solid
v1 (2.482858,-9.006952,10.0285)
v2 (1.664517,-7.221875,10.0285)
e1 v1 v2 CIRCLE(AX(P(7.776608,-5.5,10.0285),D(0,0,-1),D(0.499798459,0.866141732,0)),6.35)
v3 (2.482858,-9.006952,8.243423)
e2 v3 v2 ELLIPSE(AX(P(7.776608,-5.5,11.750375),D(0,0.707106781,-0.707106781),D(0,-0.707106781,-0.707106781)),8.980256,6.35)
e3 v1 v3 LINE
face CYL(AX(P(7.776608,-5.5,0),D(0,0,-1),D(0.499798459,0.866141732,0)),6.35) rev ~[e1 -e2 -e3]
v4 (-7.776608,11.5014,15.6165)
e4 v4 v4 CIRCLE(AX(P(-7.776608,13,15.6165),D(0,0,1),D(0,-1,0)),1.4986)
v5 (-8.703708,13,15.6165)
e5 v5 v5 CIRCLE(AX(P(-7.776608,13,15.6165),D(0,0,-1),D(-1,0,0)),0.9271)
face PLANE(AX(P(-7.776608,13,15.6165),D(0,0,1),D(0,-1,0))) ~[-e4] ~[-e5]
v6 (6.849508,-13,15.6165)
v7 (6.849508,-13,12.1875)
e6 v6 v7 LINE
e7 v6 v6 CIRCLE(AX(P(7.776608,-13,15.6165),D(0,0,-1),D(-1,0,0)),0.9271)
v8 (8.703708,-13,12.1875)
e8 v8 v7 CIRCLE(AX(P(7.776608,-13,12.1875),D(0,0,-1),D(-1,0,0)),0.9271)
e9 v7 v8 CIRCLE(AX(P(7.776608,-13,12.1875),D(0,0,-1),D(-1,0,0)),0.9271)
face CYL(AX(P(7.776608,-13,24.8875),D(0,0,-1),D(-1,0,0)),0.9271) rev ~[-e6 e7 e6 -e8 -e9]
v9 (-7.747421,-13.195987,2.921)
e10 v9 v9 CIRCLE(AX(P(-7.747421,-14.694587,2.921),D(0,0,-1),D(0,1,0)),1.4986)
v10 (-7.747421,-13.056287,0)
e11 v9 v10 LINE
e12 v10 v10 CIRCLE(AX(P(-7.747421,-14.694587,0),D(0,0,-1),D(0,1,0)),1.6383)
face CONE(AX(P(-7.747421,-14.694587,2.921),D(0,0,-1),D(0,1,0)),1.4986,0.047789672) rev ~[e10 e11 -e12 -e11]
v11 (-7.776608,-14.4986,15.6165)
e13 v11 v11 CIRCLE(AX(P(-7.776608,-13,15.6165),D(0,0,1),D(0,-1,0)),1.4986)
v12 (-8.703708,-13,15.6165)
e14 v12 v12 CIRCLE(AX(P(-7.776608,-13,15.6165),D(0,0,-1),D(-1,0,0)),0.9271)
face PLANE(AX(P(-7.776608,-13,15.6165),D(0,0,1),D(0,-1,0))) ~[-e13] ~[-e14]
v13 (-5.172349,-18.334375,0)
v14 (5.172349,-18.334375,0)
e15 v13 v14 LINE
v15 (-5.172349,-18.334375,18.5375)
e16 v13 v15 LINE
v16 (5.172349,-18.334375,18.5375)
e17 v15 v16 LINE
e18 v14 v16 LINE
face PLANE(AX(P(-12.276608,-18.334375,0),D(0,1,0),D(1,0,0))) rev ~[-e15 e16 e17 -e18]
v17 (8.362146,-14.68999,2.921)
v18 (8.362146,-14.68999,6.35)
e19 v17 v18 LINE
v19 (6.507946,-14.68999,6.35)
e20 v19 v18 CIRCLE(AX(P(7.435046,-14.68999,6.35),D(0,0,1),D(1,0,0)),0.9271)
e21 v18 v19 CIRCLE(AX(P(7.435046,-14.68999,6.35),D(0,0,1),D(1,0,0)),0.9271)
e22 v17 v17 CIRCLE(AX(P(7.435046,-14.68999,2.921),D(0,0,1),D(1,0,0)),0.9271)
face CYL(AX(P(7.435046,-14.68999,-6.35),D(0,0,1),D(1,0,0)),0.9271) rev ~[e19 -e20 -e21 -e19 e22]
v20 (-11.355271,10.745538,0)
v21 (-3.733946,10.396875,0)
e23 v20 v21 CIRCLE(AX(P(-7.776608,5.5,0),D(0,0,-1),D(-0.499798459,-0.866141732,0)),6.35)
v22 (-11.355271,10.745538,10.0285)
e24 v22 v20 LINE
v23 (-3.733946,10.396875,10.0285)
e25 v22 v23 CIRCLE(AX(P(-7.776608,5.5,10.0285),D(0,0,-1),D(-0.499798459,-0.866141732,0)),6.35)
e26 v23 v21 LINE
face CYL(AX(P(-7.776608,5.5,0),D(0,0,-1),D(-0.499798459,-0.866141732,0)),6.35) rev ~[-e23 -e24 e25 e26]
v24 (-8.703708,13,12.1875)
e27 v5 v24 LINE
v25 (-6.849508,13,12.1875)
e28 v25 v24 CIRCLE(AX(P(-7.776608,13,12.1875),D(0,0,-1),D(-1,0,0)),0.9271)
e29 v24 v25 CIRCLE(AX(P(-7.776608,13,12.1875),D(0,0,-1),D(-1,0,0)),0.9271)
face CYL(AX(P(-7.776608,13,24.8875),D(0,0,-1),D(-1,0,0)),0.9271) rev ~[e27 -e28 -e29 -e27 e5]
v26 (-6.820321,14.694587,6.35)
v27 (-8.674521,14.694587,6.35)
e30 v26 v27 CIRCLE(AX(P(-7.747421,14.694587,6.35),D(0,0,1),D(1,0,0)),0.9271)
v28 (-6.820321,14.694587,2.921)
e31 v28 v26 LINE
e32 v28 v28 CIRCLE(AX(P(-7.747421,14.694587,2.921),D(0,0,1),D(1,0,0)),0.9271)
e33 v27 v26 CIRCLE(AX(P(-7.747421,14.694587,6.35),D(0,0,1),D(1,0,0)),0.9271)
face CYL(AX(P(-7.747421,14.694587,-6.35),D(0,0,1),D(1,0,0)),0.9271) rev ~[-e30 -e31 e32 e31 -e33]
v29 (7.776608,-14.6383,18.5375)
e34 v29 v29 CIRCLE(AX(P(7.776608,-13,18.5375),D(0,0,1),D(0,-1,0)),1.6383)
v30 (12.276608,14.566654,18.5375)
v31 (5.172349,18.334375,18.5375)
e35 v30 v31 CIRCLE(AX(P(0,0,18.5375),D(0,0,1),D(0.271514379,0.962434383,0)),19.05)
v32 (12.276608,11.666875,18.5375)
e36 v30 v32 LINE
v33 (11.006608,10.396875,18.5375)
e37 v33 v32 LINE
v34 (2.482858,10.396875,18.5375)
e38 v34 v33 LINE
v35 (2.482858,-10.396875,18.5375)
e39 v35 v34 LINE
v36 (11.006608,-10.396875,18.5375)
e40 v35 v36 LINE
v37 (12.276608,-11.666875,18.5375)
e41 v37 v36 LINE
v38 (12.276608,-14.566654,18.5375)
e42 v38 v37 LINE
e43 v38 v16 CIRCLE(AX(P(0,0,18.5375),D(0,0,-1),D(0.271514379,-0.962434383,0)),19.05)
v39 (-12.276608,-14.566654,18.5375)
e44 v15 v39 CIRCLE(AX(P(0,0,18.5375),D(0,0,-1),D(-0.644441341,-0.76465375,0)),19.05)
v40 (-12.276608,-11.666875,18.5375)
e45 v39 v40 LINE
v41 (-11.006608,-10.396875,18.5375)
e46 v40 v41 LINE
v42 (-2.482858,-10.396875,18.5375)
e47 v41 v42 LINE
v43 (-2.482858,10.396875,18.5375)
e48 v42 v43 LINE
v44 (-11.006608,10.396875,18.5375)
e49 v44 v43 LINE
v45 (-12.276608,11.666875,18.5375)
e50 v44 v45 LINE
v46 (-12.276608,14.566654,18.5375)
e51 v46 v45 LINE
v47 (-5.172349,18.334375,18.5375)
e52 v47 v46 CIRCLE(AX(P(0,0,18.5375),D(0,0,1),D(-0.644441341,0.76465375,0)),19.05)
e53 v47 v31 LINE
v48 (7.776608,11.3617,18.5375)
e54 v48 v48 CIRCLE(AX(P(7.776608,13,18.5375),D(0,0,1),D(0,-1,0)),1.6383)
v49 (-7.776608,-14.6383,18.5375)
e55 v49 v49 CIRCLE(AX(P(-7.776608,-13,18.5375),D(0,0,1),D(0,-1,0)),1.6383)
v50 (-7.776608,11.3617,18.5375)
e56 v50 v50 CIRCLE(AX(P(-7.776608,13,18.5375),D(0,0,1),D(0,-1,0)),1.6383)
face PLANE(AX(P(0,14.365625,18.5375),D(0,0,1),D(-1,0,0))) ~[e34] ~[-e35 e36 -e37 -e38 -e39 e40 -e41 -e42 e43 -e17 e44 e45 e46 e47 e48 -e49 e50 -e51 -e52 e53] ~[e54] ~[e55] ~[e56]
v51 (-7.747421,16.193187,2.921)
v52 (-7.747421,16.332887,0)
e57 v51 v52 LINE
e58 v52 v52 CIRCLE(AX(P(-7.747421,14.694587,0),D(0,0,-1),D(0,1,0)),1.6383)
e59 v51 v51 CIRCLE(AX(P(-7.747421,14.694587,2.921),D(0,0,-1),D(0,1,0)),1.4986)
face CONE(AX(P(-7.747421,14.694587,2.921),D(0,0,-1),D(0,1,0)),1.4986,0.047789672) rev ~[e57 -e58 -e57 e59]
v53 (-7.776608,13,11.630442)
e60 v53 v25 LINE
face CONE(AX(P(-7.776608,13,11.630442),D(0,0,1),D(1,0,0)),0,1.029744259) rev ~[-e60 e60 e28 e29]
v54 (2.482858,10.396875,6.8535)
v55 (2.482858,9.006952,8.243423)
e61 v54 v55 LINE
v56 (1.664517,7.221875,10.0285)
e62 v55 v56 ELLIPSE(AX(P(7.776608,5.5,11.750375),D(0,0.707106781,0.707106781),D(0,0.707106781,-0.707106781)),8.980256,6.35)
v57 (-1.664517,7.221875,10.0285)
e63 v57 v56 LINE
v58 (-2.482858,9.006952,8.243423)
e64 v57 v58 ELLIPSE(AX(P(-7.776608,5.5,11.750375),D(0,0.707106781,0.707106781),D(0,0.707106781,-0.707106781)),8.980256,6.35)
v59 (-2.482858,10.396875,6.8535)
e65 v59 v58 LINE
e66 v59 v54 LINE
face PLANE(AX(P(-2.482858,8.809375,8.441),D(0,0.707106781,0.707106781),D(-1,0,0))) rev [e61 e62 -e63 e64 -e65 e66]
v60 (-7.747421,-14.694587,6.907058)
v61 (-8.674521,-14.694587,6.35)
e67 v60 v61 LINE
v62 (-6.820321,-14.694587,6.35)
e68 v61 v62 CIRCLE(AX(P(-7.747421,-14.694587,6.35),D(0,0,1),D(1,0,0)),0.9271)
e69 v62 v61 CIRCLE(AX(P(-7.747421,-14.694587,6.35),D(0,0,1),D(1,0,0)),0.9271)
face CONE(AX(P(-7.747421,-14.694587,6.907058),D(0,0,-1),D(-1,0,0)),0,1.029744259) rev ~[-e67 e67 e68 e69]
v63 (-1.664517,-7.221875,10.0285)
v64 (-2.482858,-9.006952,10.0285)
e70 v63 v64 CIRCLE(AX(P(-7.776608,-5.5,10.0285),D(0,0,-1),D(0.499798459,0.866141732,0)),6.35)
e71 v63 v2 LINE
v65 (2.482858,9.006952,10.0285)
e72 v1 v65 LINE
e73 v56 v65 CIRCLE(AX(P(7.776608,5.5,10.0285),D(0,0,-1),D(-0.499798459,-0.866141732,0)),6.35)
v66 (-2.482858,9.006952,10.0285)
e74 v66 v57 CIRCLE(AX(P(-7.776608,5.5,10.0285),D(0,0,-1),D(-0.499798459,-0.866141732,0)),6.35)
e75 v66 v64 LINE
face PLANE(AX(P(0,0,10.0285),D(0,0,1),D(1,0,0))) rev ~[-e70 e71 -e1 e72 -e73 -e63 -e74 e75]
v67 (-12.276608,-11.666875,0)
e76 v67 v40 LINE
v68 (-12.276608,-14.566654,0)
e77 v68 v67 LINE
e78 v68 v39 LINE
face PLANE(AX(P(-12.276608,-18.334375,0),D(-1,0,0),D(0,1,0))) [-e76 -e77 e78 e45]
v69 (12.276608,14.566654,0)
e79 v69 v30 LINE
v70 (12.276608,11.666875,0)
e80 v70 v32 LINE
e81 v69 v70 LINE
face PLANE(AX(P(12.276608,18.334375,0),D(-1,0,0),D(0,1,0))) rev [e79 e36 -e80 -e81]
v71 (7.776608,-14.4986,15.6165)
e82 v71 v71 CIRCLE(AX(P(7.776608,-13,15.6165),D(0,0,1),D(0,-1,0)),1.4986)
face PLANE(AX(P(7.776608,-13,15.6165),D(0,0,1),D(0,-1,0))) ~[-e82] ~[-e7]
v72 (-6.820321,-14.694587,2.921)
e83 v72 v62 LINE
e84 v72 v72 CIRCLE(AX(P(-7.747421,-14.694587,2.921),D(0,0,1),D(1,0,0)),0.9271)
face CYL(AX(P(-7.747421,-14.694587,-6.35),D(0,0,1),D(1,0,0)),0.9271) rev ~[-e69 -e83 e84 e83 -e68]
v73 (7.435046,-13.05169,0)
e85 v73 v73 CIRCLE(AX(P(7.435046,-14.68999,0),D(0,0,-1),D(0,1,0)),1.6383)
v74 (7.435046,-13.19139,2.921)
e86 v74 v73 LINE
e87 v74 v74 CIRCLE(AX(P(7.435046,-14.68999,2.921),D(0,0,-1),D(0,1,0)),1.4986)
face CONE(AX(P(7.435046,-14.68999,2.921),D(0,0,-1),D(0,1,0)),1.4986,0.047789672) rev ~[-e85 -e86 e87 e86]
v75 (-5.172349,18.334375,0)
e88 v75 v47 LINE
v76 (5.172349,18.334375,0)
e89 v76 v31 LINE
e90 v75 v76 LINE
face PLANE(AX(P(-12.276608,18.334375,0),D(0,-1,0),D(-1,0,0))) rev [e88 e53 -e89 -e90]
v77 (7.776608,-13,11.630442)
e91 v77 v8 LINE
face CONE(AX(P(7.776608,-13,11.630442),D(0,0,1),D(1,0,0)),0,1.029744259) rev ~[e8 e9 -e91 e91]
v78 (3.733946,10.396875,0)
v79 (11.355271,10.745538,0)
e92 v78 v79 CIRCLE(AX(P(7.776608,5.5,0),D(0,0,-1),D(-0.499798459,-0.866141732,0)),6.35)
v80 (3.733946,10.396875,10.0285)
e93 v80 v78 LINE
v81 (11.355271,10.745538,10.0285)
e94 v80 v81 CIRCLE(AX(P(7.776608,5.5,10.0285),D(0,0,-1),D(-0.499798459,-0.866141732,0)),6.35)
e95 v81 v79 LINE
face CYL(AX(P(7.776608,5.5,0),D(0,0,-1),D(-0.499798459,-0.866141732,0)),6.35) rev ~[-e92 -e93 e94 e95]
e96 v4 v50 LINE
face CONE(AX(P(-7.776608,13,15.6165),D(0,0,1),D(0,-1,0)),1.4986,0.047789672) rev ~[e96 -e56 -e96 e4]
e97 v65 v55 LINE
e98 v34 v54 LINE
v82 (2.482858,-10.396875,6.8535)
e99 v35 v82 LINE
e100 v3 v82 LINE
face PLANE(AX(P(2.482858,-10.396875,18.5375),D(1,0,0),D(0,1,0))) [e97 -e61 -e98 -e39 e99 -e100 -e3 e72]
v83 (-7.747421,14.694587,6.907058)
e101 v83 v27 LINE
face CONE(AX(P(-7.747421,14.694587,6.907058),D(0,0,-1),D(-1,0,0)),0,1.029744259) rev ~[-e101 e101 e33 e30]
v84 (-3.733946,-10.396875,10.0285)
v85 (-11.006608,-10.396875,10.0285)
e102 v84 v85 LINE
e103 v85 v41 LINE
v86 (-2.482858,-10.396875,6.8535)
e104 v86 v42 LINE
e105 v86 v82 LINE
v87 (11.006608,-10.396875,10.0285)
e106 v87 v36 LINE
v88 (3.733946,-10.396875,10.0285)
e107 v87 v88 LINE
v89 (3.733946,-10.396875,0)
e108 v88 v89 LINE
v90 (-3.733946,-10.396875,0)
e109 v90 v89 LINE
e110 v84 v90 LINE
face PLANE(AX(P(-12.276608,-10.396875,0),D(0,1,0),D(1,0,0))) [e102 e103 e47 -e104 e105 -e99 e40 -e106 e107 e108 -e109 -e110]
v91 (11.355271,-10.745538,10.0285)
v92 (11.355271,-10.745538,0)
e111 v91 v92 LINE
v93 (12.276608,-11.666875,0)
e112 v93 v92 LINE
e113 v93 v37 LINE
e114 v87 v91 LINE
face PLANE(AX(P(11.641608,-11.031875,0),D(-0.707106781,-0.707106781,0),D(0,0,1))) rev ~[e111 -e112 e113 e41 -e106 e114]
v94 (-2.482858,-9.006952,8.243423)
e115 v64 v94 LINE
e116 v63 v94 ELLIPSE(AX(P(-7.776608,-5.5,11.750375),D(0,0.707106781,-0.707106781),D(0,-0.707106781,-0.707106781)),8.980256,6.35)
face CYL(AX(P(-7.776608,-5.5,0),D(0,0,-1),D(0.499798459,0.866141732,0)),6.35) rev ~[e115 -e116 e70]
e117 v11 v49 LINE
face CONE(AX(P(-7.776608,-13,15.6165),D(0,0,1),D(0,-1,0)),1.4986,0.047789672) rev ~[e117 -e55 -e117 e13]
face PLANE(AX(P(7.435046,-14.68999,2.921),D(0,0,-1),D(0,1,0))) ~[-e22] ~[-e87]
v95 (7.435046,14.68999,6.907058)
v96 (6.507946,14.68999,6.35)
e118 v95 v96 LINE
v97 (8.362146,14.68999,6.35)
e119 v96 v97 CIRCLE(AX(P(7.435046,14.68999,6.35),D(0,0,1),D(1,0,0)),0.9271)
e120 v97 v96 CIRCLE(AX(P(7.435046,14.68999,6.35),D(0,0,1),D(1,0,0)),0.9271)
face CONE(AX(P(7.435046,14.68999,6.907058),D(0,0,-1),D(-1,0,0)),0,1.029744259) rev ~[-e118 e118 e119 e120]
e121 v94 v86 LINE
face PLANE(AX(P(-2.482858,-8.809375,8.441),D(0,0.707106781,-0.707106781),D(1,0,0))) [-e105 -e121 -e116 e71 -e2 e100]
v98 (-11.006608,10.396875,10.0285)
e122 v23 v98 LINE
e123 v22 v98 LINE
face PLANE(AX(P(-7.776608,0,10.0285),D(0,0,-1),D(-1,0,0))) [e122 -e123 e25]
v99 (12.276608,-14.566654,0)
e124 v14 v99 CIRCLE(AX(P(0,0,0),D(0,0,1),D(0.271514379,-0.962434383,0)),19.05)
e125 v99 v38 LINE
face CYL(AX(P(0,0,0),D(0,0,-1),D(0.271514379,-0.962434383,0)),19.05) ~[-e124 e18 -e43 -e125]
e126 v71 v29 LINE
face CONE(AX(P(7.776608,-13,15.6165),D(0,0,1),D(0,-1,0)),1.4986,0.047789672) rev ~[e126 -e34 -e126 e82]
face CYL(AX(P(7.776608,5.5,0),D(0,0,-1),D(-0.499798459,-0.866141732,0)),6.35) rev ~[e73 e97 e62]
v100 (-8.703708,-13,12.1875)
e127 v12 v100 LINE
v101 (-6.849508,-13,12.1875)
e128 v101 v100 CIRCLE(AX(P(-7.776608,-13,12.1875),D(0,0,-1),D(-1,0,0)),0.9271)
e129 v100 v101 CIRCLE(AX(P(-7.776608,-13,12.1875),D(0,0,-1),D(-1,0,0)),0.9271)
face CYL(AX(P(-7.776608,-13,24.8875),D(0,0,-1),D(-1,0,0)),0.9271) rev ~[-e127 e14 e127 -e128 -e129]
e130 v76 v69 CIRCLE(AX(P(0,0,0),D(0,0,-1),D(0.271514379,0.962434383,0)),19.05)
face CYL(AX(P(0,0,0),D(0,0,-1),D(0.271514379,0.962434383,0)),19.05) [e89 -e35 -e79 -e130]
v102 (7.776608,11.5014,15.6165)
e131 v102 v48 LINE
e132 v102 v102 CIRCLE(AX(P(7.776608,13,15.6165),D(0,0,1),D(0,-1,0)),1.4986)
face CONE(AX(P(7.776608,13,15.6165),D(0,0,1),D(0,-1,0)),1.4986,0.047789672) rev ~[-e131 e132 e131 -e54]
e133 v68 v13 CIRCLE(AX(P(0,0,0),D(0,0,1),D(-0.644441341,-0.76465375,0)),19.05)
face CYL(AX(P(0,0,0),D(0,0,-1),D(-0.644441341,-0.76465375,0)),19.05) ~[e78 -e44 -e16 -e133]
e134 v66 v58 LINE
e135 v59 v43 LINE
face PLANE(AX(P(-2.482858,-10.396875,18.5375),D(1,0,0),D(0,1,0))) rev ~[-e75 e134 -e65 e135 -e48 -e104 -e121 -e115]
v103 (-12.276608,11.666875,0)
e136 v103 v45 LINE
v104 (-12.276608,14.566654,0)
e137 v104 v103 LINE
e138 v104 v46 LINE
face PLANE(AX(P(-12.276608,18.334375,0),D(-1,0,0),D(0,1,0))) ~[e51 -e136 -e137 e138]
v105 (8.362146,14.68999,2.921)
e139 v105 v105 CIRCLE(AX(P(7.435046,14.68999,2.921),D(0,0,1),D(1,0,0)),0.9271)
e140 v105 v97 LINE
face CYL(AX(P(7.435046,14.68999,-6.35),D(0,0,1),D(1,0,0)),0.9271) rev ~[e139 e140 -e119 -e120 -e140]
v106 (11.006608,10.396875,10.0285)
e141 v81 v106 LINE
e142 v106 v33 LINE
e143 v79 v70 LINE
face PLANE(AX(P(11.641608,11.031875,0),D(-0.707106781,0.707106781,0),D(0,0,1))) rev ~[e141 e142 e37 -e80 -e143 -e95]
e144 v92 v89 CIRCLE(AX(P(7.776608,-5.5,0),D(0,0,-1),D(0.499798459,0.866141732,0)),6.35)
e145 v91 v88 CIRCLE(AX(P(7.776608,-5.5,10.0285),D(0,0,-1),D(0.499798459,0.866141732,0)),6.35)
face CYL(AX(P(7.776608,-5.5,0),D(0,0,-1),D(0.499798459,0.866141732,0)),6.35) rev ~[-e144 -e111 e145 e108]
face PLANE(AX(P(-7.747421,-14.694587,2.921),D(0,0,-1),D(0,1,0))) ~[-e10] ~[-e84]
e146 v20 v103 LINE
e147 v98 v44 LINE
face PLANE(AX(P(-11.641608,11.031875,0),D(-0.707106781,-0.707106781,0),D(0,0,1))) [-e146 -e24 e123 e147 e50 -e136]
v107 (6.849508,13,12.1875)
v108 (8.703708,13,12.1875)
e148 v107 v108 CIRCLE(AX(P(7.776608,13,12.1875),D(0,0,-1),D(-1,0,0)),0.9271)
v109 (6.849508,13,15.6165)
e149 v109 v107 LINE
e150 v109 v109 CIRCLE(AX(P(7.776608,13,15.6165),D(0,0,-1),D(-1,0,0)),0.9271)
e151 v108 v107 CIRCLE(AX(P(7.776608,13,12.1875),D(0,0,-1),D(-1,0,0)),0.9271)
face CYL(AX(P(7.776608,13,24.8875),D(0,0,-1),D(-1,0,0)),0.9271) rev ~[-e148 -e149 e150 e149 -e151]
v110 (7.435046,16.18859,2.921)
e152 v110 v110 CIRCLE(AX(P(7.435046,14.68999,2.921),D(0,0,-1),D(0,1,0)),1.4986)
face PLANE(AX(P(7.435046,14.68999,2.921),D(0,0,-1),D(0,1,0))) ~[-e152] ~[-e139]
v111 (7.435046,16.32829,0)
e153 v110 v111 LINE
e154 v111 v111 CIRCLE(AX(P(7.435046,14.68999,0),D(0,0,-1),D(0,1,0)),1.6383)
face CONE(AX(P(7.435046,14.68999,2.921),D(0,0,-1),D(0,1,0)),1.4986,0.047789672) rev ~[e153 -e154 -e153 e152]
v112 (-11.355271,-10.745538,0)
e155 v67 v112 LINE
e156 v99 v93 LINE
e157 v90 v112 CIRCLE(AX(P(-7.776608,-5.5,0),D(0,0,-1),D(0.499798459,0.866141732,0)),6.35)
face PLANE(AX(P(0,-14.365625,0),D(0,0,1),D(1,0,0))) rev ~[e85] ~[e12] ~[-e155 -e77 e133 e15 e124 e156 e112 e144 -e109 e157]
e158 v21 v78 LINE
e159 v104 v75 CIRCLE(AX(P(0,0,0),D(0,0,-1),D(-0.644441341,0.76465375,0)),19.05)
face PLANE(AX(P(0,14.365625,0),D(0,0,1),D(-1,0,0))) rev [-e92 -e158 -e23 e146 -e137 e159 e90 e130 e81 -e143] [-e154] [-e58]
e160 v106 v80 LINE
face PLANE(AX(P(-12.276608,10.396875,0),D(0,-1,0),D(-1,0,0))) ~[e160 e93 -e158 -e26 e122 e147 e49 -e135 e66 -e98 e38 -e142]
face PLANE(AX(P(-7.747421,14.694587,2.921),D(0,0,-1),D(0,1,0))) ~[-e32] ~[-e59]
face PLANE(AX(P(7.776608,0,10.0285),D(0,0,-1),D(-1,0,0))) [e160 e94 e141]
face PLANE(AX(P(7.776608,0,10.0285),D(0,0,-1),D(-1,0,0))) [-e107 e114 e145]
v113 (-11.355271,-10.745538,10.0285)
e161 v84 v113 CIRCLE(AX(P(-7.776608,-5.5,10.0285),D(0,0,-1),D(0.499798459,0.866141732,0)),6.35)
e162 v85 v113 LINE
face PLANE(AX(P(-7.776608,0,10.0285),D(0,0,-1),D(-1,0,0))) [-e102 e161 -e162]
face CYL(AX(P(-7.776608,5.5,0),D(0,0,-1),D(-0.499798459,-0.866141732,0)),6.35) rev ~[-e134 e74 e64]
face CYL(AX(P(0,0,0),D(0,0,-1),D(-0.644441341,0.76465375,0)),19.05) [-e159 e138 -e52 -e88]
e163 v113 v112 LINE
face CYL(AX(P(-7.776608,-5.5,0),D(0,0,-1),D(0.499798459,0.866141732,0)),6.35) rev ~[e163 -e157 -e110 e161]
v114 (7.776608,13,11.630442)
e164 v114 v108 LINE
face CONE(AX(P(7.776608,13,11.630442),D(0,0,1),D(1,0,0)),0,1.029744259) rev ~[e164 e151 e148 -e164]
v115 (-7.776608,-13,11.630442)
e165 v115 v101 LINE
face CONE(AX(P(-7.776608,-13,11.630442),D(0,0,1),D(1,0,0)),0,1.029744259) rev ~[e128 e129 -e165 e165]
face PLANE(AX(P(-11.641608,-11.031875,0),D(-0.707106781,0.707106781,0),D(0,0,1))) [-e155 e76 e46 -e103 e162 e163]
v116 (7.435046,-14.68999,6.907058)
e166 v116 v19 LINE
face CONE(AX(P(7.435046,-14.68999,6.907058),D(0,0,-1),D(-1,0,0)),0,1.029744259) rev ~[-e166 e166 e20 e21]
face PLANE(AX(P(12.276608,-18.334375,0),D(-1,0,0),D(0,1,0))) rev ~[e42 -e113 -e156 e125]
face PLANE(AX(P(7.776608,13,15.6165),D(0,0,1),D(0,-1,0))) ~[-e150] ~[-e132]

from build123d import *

# Parameters (mm, degrees)
SKETCH1_W                 = 24.553215102
SKETCH1_H                 = 7.9375
BOSS_EXTRUDE1_DEPTH       = 18.5375
CUT_EXTRUDE2_DEPTH        = 19.5375
SKETCH3_W                 = 4.965715102
SKETCH3_H                 = 20.79375
BOSS_EXTRUDE2_DEPTH       = 8.509
CHAMFER2_SIZE             = 3.175
CHAMFER4_SIZE             = 1.27
CUT_EXTRUDE1_DEPTH        = 10.0285
HOLE1_AT_2_COUNT          = 2
HOLE1_AT_2_PITCH          = 15.553215102
HOLE1_AT_3_COUNT          = 2
HOLE1_AT_3_PITCH          = 30.296905783
HOLE1_AT_4_COUNT          = 2
HOLE1_AT_4_PITCH          = 26
F_0_CLEARANCE_HOLE1_D     = 1.8542
F_0_CLEARANCE_HOLE1_DEPTH = 6.35
F_0_CLEARANCE_HOLE1_TIP   = 0.55705788
HOLE2_AT_2_COUNT          = 2
HOLE2_AT_2_PITCH          = 15.182467652
HOLE2_AT_3_COUNT          = 2
HOLE2_AT_3_PITCH          = 29.379980379
HOLE2_AT_4_COUNT          = 2
HOLE2_AT_4_PITCH          = 33.075076063
F_0_CLEARANCE_HOLE2_D     = 1.8542
F_0_CLEARANCE_HOLE2_DEPTH = 6.35
F_0_CLEARANCE_HOLE2_TIP   = 0.55705788


with BuildPart() as part:
    # Sketch1 → Boss-Extrude1 (new body)
    with BuildSketch(Plane.XY):
        with Locations((0, -14.365625)):
            Rectangle(SKETCH1_W, SKETCH1_H)
    extrude(amount=BOSS_EXTRUDE1_DEPTH)

    # Sketch8 → Cut-Extrude2 (cut, through all)
    with BuildSketch(Plane(origin=(0, 0, 0), x_dir=(-1, 0, 0), z_dir=(0, 0, -1))):
        with BuildLine():
            Line((5.172348921, -18.334375), (12.276607551, -18.334375))
            Line((12.276607551, -18.334375), (12.276607551, -14.566653941))
            ThreePointArc((12.276607551, -14.566653941), (8.925550458, -16.829647917), (5.172348921, -18.334375))
        make_face()
        with BuildLine():
            Line((-12.276607551, -14.566653941), (-12.276607551, -18.334375))
            Line((-12.276607551, -18.334375), (-5.172348921, -18.334375))
            ThreePointArc((-5.172348921, -18.334375), (-8.925550458, -16.829647917), (-12.276607551, -14.566653941))
        make_face()
    extrude(amount=-CUT_EXTRUDE2_DEPTH, mode=Mode.SUBTRACT)


with BuildPart() as body_2:
    # Mirror2: mirrored copy
    add(part.part.mirror(Plane(origin=(0, 0, 0), x_dir=(0, 0, 1), z_dir=(0, -1, 0))))


with BuildPart() as part_1:
    add(part.part)

    add(body_2.part)  # Boss-Extrude2 merges body 2
    # Sketch3 → Boss-Extrude2 (add)
    with BuildSketch(Plane.XY.offset(18.5375)):
        Rectangle(SKETCH3_W, SKETCH3_H)
    extrude(amount=-BOSS_EXTRUDE2_DEPTH)

    # Chamfer2
    chamfer2_edges = [part_1.edges().sort_by_distance(p)[0] for p in [
        (0, 10.396875, 10.0285),
        (0, -10.396875, 10.0285),
    ]]
    chamfer(chamfer2_edges, length=CHAMFER2_SIZE)

    # Chamfer4
    chamfer4_edges = [part_1.edges().sort_by_distance(p)[0] for p in [
        (-12.276607551, -10.396875, 9.26875),
        (12.276607551, -10.396875, 9.26875),
        (-12.276607551, 10.396875, 9.26875),
        (12.276607551, 10.396875, 9.26875),
    ]]
    chamfer(chamfer4_edges, length=CHAMFER4_SIZE)

    # Sketch2 → Cut-Extrude1 (cut)
    with BuildSketch(Plane(origin=(0, 0, 0), x_dir=(-1, 0, 0), z_dir=(0, 0, -1))):
        with BuildLine():
            ThreePointArc((4.602887336, 0), (7.776607551, -11.85), (10.950327765, 0))
            ThreePointArc((10.950327765, 0), (7.776607551, 11.85), (4.602887336, 0))
        make_face()
        with BuildLine():
            ThreePointArc((-10.950327765, 0), (-7.776607551, -11.85), (-4.602887336, 0))
            ThreePointArc((-4.602887336, 0), (-7.776607551, 11.85), (-10.950327765, 0))
        make_face()
    extrude(amount=-CUT_EXTRUDE1_DEPTH, mode=Mode.SUBTRACT)

    # Sketch5 → Hole1 (revolve, cut)
    with BuildSketch(Plane(origin=(-7.776607551, 13, 18.5375), x_dir=(0, -1, 0), z_dir=(1, 0, 0))):
        Polygon((0, 0), (0, 2.921), (1.4986, 2.921), (1.6383, 0), align=None)
    hole1 = revolve(axis=Axis((-7.776607551, 13, -91.4625), (0, 0, 1)), mode=Mode.SUBTRACT)

    # Hole1 at 2: Hole1 ×2
    with Locations(*[(i * HOLE1_AT_2_PITCH, 0, 0) for i in range(1, HOLE1_AT_2_COUNT)]):
        add(hole1, mode=Mode.SUBTRACT)

    # Hole1 at 3: Hole1 ×2
    with Locations(*[Vector(0.513359853, -0.858173445, 0) * (i * HOLE1_AT_3_PITCH) for i in range(1, HOLE1_AT_3_COUNT)]):
        add(hole1, mode=Mode.SUBTRACT)

    # Hole1 at 4: Hole1 ×2
    with Locations(*[(0, -i * HOLE1_AT_4_PITCH, 0) for i in range(1, HOLE1_AT_4_COUNT)]):
        add(hole1, mode=Mode.SUBTRACT)

    # #0 Clearance Hole1
    with Locations(Plane.XY.offset(18.5375)):
        with Locations((7.776607551, 13), (7.776607551, -13), (-7.776607551, -13), (-7.776607551, 13)):
            Hole(F_0_CLEARANCE_HOLE1_D / 2, depth=F_0_CLEARANCE_HOLE1_DEPTH)
            with Locations((0, 0, -(F_0_CLEARANCE_HOLE1_DEPTH + F_0_CLEARANCE_HOLE1_TIP / 2))):  # 118° drill point
                Cone(0, F_0_CLEARANCE_HOLE1_D / 2, F_0_CLEARANCE_HOLE1_TIP, mode=Mode.SUBTRACT)

    # Sketch9 → Hole2 (revolve, cut)
    with BuildSketch(Plane(origin=(7.435045578, -14.689990189, 0), x_dir=(0, 1, 0), z_dir=(1, 0, 0))):
        Polygon((0, 0), (0, 2.921), (1.4986, 2.921), (1.6383, 0), align=None)
    hole2 = revolve(axis=Axis((7.435045578, -14.689990189, 110), (0, 0, -1)), mode=Mode.SUBTRACT)

    # Hole2 at 2: Hole2 ×2
    with Locations(*[Vector(-0.999999954, -0.000302745, 0) * (i * HOLE2_AT_2_PITCH) for i in range(1, HOLE2_AT_2_COUNT)]):
        add(hole2, mode=Mode.SUBTRACT)

    # Hole2 at 3: Hole2 ×2
    with Locations(*[(0, i * HOLE2_AT_3_PITCH, 0) for i in range(1, HOLE2_AT_3_COUNT)]):
        add(hole2, mode=Mode.SUBTRACT)

    # Hole2 at 4: Hole2 ×2
    with Locations(*[Vector(-0.459030447, 0.888420536, 0) * (i * HOLE2_AT_4_PITCH) for i in range(1, HOLE2_AT_4_COUNT)]):
        add(hole2, mode=Mode.SUBTRACT)

    # #0 Clearance Hole2
    with Locations(Plane(origin=(0, 0, 0), x_dir=(-1, 0, 0), z_dir=(0, 0, -1))):
        with Locations((-7.435045578, -14.689990189), (-7.435045578, 14.689990189), (7.747421379, 14.69458661), (7.747421379, -14.69458661)):
            Hole(F_0_CLEARANCE_HOLE2_D / 2, depth=F_0_CLEARANCE_HOLE2_DEPTH)
            with Locations((0, 0, -(F_0_CLEARANCE_HOLE2_DEPTH + F_0_CLEARANCE_HOLE2_TIP / 2))):  # 118° drill point
                Cone(0, F_0_CLEARANCE_HOLE2_D / 2, F_0_CLEARANCE_HOLE2_TIP, mode=Mode.SUBTRACT)


solid = part_1.part
